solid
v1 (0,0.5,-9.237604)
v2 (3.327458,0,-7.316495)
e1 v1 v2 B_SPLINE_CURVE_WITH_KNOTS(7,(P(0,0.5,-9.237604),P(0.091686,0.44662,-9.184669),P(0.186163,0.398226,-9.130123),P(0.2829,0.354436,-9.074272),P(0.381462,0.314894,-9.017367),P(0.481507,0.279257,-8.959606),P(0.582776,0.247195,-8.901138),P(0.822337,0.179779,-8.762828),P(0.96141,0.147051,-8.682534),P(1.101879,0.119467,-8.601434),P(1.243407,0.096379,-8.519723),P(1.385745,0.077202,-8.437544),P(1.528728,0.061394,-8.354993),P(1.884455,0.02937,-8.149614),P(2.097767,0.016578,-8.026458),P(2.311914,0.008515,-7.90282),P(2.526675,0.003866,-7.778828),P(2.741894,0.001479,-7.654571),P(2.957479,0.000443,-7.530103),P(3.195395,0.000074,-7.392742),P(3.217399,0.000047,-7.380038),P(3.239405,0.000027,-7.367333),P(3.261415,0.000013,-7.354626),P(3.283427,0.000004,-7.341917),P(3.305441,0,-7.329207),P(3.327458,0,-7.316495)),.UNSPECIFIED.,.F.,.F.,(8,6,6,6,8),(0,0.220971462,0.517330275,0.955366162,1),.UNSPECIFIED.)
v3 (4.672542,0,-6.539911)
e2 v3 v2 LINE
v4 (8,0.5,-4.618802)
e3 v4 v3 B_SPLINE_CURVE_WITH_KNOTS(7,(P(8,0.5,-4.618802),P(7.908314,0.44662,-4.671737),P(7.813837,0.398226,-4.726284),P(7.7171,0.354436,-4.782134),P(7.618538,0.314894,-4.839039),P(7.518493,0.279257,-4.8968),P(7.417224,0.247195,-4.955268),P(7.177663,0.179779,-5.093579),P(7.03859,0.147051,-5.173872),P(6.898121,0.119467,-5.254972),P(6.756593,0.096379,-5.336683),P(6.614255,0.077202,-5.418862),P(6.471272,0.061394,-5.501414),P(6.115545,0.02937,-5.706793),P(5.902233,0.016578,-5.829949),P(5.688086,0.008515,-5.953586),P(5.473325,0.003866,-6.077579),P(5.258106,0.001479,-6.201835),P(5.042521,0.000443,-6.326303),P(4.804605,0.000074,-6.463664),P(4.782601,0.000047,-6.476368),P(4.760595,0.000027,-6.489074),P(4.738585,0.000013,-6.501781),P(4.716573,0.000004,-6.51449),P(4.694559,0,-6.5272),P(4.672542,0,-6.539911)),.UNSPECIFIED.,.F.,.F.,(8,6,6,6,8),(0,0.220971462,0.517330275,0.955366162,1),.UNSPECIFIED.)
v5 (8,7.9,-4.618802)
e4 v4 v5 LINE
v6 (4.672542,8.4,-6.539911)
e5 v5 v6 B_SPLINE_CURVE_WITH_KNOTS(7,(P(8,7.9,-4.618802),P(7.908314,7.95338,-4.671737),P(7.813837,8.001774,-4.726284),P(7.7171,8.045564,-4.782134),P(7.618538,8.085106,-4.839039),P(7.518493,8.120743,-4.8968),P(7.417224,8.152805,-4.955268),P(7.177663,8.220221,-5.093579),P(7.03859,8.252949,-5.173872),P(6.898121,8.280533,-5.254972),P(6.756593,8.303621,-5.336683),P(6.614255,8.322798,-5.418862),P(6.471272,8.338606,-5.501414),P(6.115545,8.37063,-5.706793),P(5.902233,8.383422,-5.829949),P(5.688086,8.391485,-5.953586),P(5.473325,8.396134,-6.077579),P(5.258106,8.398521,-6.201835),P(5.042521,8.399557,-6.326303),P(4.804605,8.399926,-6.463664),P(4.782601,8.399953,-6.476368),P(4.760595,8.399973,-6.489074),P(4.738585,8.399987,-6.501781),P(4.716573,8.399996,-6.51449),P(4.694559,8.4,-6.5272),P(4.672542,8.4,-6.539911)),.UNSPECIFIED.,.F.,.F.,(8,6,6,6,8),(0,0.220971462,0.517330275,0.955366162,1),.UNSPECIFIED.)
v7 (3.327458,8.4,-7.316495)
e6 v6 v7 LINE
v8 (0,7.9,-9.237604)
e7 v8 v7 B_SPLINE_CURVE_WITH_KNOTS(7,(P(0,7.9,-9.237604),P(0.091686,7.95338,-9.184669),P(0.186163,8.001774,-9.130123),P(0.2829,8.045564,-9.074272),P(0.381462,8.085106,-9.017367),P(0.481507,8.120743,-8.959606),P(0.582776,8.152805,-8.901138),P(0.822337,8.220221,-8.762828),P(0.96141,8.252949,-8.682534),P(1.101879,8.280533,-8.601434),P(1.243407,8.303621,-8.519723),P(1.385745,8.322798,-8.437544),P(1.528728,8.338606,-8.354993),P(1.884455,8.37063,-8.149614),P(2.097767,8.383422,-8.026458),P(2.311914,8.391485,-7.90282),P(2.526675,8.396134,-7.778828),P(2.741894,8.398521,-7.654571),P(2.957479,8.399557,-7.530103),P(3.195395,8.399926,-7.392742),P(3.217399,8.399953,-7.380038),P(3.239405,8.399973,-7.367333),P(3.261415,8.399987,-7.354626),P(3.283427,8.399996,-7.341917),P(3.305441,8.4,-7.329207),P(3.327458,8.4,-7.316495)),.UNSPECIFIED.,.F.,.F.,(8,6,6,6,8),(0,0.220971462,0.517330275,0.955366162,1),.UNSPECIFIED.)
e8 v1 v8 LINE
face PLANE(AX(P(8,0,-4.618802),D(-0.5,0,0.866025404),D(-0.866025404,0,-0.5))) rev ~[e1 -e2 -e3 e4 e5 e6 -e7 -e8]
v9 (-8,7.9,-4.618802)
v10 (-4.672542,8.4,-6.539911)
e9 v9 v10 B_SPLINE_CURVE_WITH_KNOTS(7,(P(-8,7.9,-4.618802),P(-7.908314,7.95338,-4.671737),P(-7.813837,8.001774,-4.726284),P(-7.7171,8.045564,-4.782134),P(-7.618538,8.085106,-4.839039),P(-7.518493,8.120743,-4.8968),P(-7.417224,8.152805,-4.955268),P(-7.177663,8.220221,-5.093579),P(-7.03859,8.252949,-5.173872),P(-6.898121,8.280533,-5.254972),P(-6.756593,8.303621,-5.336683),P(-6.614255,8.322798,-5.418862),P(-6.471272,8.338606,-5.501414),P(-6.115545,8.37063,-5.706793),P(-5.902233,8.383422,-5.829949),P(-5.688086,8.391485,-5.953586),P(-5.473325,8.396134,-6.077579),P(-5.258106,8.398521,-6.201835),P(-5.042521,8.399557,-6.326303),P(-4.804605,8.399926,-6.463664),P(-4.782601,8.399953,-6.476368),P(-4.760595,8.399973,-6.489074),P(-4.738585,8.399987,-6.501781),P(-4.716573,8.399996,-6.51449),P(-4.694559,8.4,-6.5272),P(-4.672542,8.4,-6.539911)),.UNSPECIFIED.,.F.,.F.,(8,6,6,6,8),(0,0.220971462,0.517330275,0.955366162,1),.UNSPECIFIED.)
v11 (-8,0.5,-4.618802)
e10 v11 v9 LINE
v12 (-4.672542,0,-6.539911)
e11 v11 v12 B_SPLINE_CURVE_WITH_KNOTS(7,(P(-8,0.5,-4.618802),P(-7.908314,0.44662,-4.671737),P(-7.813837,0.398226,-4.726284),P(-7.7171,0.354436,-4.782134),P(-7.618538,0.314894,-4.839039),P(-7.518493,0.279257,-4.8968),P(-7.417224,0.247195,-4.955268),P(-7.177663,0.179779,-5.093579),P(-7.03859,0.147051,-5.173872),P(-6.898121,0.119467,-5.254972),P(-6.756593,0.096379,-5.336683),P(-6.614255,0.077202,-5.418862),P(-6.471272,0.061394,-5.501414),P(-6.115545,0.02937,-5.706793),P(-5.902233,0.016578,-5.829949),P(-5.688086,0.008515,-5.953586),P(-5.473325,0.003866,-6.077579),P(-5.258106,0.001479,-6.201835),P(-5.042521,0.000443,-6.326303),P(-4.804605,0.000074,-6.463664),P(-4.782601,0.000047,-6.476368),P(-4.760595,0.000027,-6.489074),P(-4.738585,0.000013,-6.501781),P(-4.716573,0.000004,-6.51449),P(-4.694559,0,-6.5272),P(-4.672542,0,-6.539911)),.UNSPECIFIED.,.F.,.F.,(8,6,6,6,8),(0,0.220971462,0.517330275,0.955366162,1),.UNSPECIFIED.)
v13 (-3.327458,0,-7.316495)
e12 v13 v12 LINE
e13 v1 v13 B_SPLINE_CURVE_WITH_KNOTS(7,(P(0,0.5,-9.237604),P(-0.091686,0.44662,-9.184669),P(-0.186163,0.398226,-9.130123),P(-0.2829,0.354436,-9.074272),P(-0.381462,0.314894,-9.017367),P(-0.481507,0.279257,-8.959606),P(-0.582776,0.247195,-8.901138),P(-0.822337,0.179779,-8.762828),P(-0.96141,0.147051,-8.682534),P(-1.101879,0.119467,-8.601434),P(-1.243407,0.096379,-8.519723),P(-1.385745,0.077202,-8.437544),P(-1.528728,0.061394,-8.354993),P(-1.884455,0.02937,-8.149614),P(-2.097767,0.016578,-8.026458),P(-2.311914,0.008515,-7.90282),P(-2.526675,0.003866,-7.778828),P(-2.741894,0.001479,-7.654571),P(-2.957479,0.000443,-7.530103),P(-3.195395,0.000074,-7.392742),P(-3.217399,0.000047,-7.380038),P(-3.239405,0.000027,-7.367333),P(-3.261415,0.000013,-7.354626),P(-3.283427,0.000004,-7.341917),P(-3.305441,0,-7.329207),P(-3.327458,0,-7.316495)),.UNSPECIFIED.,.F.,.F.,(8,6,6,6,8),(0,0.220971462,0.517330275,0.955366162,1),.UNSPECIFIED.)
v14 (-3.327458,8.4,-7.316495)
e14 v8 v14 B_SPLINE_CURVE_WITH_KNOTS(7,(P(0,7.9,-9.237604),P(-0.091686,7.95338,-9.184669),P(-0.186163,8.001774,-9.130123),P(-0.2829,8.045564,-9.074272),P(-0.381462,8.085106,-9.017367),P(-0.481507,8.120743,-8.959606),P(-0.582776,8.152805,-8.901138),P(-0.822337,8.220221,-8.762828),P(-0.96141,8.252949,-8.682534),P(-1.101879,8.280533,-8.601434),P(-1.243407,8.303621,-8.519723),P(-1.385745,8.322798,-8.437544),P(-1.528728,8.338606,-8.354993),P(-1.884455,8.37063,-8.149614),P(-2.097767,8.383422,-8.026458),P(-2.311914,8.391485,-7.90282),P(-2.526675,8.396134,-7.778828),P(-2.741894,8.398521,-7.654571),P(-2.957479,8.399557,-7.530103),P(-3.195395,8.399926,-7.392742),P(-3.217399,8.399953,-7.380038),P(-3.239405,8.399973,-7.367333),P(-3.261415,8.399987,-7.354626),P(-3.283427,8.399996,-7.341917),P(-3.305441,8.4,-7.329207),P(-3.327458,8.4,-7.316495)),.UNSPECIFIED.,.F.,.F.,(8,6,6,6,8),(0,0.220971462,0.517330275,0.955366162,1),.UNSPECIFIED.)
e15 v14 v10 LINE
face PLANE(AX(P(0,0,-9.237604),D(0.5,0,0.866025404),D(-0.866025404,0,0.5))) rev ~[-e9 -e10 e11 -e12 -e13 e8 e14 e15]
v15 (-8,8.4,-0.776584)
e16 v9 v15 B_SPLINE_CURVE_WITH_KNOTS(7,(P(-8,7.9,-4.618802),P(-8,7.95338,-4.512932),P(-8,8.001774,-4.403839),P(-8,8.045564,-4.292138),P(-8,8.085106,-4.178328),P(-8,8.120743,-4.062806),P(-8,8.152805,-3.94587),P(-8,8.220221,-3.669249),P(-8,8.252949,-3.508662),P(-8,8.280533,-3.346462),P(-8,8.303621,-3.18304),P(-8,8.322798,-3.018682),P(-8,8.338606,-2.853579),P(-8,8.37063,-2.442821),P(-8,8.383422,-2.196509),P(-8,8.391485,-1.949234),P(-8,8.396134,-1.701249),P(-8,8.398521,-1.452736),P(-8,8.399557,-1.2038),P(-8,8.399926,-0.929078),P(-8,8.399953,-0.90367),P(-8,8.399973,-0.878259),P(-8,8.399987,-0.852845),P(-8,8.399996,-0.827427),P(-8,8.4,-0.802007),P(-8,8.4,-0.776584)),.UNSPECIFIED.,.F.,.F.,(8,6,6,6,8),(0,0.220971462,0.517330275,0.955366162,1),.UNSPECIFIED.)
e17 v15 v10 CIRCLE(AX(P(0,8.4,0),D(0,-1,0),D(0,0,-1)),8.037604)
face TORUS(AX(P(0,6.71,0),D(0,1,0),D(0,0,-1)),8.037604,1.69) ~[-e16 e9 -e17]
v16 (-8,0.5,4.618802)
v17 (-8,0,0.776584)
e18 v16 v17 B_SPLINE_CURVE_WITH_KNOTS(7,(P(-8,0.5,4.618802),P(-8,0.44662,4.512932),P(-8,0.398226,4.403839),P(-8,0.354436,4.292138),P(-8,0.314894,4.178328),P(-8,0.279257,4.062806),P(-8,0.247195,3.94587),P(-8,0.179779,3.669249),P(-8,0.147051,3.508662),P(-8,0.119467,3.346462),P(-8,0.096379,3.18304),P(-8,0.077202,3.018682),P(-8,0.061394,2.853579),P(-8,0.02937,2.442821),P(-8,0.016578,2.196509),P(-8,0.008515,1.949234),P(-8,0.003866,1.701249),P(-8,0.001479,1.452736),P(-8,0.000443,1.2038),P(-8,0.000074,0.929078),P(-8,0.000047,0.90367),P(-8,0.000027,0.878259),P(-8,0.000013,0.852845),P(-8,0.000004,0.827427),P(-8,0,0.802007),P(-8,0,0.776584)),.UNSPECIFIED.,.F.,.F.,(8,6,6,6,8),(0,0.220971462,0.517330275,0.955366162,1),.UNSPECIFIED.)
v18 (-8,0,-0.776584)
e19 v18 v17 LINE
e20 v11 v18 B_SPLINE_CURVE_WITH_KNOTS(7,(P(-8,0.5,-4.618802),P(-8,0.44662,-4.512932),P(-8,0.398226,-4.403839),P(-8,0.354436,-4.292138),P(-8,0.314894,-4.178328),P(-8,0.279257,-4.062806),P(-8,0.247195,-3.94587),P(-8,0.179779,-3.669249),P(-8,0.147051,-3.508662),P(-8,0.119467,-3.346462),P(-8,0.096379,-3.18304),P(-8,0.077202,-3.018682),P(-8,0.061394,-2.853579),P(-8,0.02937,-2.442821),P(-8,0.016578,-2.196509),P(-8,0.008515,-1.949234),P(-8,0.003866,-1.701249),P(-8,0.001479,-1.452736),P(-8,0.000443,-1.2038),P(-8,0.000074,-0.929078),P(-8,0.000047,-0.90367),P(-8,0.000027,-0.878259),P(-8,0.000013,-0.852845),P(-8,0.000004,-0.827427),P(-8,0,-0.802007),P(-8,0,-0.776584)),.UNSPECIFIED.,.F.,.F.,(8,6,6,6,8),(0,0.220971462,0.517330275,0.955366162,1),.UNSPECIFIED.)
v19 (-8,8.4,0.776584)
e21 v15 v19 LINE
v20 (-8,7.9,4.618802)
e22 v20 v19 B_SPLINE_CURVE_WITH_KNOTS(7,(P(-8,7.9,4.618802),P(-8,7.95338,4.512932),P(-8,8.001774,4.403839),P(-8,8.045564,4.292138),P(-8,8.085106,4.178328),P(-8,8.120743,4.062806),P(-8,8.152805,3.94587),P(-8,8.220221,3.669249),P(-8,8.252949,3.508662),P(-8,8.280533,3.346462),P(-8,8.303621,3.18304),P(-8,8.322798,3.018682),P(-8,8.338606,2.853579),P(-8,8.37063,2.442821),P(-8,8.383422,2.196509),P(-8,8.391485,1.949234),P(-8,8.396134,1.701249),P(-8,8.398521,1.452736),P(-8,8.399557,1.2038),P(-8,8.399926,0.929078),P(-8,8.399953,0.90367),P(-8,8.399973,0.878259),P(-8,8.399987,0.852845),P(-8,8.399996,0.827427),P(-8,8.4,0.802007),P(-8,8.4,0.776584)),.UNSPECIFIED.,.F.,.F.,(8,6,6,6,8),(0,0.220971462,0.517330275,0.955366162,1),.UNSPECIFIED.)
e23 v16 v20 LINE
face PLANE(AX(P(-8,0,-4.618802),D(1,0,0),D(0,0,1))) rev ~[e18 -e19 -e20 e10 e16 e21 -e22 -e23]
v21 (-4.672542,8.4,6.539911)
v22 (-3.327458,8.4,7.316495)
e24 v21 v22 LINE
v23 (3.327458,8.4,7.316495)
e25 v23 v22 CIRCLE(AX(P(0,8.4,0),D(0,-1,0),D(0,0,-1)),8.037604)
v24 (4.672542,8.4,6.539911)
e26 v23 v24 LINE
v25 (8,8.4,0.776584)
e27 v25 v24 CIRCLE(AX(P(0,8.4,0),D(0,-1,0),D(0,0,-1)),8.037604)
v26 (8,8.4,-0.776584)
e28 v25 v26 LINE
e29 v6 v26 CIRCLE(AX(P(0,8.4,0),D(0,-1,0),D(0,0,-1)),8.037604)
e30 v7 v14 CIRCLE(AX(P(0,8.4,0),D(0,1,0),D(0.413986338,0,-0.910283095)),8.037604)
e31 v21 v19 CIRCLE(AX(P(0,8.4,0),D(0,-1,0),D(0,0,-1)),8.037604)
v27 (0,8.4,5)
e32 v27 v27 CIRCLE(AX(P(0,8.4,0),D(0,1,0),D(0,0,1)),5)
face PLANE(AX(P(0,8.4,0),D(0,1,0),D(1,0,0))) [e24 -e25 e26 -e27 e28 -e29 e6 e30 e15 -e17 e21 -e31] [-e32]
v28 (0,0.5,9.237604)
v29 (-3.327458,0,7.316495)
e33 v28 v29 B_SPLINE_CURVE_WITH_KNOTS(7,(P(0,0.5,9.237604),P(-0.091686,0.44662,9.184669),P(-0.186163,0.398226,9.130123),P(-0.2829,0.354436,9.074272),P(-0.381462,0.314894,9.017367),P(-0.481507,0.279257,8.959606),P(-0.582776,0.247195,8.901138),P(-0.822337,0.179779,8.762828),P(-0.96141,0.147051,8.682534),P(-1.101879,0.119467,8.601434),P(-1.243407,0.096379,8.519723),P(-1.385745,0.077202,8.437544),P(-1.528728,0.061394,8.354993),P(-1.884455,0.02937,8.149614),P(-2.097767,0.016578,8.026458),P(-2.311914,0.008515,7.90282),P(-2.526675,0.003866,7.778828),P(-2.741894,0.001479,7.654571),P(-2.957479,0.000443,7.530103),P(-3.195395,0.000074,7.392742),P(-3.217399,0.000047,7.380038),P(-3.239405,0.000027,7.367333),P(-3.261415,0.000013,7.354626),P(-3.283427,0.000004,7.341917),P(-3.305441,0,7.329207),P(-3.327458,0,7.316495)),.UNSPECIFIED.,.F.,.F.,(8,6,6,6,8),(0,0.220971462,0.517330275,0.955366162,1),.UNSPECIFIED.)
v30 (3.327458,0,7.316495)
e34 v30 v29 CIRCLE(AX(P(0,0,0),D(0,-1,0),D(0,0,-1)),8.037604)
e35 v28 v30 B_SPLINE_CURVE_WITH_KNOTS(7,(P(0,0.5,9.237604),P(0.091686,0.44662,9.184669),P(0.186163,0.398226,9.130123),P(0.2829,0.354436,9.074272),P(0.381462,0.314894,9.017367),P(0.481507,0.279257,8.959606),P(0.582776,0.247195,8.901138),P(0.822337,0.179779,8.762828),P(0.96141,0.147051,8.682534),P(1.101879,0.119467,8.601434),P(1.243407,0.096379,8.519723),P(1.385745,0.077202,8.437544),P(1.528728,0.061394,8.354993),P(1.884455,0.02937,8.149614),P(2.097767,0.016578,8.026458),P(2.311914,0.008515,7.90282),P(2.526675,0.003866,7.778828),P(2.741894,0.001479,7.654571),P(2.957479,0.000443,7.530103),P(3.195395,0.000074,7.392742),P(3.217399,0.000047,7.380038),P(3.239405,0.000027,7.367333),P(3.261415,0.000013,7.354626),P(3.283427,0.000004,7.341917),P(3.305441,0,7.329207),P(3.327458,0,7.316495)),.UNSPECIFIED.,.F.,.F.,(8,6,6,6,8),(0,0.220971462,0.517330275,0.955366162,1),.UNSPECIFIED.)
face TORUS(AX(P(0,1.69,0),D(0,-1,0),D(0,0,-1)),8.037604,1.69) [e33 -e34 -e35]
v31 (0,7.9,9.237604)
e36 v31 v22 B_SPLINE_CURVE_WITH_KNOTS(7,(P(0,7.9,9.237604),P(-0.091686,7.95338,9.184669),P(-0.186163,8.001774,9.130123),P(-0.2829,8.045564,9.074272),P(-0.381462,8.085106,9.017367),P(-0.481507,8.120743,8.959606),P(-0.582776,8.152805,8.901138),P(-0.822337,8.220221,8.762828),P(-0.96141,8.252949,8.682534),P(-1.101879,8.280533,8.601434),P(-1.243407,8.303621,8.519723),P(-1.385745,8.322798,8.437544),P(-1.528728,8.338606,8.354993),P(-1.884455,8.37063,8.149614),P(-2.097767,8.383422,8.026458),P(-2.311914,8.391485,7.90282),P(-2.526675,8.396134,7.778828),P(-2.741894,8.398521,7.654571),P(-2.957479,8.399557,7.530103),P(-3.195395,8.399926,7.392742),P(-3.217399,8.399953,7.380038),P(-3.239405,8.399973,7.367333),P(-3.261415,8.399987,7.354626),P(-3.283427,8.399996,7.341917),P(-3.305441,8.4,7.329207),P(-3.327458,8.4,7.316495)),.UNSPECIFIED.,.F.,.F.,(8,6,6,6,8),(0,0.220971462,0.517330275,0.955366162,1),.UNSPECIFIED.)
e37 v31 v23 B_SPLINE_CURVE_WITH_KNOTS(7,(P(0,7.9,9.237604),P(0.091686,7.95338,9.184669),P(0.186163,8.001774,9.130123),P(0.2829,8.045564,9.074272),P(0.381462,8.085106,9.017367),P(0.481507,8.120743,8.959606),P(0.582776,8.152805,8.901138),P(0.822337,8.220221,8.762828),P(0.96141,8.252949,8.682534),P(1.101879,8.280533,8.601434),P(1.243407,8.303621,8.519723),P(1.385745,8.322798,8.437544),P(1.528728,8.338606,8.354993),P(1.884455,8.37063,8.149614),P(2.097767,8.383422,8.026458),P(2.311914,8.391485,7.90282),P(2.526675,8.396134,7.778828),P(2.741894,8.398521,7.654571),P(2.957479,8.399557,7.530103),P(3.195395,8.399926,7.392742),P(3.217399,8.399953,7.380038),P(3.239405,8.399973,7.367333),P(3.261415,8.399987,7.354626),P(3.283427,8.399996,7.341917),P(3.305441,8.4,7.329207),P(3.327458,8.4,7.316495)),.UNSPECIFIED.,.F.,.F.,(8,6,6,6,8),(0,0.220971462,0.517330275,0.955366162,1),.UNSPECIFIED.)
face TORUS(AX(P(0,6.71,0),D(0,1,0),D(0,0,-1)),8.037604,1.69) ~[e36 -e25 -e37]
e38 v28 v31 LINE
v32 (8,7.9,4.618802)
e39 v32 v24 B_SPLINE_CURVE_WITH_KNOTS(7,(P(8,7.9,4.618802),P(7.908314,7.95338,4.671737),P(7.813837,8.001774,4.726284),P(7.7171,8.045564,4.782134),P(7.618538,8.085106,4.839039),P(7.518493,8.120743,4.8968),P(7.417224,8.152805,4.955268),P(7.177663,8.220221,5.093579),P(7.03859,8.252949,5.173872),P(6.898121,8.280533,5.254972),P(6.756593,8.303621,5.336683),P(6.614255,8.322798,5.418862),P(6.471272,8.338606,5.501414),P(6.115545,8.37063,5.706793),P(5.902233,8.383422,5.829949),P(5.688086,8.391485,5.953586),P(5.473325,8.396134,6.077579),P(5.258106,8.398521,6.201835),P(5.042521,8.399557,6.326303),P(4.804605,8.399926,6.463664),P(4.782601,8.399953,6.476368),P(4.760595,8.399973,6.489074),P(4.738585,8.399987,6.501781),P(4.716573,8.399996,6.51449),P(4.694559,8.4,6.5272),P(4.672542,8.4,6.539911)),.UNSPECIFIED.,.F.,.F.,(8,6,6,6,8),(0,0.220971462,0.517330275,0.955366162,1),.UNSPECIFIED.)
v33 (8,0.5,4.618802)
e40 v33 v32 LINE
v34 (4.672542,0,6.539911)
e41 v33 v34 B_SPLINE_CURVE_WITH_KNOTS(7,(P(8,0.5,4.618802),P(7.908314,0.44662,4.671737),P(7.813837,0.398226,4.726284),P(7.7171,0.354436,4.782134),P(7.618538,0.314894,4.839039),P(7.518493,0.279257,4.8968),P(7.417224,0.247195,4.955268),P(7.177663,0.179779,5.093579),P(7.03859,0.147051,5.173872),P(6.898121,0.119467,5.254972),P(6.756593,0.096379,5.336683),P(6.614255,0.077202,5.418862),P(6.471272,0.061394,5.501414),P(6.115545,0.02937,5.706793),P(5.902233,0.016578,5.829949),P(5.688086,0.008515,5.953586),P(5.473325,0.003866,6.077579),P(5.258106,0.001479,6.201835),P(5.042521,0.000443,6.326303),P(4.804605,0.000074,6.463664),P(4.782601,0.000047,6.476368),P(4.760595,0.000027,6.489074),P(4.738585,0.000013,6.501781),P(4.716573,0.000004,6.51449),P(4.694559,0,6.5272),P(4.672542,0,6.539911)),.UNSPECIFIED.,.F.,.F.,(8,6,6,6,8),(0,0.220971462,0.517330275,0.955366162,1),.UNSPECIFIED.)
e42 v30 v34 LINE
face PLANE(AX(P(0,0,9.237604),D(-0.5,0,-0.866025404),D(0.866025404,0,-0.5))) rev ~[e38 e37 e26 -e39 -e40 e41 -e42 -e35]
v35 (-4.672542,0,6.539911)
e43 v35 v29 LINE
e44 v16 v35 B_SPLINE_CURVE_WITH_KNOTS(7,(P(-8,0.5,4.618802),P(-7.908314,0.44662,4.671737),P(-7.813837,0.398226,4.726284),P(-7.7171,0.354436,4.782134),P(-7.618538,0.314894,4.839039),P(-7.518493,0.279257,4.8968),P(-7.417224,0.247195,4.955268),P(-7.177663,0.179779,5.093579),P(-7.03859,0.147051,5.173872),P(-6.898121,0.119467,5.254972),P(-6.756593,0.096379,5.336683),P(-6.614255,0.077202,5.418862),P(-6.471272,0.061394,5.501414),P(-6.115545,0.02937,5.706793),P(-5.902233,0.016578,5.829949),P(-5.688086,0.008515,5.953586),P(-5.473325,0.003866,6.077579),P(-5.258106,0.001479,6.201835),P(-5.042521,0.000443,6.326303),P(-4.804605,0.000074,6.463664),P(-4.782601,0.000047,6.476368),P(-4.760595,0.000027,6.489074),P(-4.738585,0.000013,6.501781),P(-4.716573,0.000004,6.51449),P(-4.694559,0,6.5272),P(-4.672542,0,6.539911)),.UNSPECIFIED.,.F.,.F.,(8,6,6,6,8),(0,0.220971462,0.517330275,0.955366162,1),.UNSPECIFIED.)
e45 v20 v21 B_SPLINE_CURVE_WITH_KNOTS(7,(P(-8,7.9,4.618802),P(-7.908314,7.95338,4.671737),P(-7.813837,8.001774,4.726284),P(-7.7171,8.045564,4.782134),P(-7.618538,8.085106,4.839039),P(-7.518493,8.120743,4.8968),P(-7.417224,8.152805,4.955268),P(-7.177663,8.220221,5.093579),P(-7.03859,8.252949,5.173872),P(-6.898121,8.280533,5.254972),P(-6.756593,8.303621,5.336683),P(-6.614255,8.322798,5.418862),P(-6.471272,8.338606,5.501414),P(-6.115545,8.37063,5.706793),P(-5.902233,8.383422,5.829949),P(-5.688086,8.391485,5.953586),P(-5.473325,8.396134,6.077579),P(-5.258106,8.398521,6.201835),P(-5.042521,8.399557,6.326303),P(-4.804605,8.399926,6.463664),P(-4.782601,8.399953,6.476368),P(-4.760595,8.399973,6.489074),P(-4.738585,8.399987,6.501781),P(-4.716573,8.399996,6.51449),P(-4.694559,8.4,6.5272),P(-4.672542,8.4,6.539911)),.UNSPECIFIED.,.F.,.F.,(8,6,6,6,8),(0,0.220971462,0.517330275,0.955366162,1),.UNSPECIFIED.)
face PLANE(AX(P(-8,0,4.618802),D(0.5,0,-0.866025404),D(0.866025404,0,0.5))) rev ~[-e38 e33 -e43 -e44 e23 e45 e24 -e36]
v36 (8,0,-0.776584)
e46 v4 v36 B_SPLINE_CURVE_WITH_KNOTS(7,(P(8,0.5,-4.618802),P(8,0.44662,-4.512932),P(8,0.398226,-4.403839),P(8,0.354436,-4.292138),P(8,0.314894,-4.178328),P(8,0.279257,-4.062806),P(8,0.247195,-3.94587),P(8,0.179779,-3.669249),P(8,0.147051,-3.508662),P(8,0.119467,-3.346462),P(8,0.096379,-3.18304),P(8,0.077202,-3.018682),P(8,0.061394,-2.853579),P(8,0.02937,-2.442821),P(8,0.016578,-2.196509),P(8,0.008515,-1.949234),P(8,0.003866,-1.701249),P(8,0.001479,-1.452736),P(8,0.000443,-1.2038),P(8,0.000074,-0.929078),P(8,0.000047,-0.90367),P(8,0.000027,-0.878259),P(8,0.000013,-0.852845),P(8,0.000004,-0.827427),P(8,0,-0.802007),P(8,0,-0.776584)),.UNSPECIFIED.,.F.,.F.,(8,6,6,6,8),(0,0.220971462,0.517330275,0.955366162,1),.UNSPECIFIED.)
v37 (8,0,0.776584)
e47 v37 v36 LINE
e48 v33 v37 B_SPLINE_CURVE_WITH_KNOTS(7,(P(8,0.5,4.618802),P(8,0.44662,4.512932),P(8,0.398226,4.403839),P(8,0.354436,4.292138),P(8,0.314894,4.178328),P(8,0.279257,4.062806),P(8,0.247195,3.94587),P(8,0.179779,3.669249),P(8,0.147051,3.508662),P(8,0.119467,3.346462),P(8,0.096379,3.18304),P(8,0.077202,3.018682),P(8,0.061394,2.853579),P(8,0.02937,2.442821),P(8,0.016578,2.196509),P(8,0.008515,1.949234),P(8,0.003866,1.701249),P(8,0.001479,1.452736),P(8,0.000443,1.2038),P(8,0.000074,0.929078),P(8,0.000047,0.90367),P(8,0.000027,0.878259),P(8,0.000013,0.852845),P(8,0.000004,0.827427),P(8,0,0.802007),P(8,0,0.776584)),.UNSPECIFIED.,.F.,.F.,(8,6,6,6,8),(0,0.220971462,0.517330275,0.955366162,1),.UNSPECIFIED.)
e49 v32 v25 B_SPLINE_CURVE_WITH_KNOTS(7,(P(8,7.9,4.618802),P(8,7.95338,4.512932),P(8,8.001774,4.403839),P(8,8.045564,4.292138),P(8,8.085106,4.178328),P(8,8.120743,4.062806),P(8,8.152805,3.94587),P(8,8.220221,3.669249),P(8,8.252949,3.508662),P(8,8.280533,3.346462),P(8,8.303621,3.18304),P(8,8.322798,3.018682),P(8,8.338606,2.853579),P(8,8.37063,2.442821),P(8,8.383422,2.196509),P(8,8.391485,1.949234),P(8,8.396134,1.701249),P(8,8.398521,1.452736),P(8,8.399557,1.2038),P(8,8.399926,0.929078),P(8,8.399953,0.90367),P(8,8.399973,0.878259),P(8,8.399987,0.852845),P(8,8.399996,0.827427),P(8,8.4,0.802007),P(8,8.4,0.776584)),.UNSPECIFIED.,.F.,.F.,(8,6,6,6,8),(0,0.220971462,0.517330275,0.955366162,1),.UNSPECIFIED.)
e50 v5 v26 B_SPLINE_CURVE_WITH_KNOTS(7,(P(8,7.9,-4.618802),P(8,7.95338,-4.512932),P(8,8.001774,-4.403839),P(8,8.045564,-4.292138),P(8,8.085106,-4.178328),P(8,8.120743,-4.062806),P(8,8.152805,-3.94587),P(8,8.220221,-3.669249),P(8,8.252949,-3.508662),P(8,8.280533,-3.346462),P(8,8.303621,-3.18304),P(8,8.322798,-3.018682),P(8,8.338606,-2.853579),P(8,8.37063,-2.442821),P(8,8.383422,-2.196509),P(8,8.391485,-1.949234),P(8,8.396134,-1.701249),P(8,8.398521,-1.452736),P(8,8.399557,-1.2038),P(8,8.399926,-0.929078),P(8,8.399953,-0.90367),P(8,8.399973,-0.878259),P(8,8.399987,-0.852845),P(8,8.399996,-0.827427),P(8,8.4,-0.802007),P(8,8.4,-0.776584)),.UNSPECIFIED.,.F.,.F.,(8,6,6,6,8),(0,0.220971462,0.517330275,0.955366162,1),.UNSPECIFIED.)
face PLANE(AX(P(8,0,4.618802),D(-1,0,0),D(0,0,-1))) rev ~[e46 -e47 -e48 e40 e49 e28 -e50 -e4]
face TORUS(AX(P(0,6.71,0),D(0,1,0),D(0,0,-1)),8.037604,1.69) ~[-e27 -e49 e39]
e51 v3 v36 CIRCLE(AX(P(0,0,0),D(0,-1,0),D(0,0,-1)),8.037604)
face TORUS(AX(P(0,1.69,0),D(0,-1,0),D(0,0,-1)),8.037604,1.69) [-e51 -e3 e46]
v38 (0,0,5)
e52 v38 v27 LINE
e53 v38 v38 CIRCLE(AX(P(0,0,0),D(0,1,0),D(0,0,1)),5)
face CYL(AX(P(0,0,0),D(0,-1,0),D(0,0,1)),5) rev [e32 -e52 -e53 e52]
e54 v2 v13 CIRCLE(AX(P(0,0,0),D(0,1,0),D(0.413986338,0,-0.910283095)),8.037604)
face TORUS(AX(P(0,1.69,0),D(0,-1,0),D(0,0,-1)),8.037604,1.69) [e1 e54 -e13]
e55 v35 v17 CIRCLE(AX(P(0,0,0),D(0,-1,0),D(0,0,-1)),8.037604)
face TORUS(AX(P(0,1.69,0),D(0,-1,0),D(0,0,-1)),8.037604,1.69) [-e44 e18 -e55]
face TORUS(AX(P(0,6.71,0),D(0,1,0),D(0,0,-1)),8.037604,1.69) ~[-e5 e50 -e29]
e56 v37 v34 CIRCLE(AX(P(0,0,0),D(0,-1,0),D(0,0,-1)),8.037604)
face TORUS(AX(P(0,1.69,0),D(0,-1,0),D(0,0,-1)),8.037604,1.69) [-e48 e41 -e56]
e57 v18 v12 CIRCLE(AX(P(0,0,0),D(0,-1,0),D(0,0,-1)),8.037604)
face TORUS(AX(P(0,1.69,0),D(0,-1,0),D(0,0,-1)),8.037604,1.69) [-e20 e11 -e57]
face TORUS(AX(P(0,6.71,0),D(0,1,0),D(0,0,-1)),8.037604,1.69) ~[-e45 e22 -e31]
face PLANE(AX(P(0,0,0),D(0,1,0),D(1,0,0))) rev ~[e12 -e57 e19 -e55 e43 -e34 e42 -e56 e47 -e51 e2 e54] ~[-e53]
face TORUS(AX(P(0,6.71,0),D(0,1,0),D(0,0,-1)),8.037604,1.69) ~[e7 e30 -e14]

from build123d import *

# Parameters (mm, degrees)
SKIZZE1_R                       = 5
AUFSATZ_LINEAR_AUSTRAGEN1_DEPTH = 8.4


with BuildPart() as part:
    # Skizze1 → Aufsatz-Linear austragen1 (new body)
    with BuildSketch(Plane(origin=(0, 0, 0), x_dir=(1, 0, 0), z_dir=(0, 1, 0))):
        Polygon((0, 9.237604307), (-8, 4.618802154), (-8, -4.618802154), (0, -9.237604307), (8, -4.618802154), (8, 4.618802154), align=None)
        with Locations(Location((0, 0, 0), (0, 0, 270))):
            Circle(SKIZZE1_R, mode=Mode.SUBTRACT)
    extrude(amount=AUFSATZ_LINEAR_AUSTRAGEN1_DEPTH)

    # Skizze2 → Schnitt-Rotation1 (revolve, cut)
    with BuildSketch(Plane(origin=(0, 0, 0), x_dir=(0, 0, -1), z_dir=(1, 0, 0))):
        with BuildLine():
            Line((8.037604307, 8.4), (9.237604307, 8.4))
            Line((9.237604307, 8.4), (9.237604307, 7.9))
            ThreePointArc((9.237604307, 7.9), (8.687604307, 8.27), (8.037604307, 8.4))
        make_face()
        with BuildLine():
            Line((8.037604307, 0), (9.237604307, 0))
            Line((9.237604307, 0), (9.237604307, 0.5))
            ThreePointArc((9.237604307, 0.5), (8.687604307, 0.13), (8.037604307, 0))
        make_face()
    revolve(axis=Axis((0, 0, 0), (0, -1, 0)), mode=Mode.SUBTRACT)


solid = part.part
